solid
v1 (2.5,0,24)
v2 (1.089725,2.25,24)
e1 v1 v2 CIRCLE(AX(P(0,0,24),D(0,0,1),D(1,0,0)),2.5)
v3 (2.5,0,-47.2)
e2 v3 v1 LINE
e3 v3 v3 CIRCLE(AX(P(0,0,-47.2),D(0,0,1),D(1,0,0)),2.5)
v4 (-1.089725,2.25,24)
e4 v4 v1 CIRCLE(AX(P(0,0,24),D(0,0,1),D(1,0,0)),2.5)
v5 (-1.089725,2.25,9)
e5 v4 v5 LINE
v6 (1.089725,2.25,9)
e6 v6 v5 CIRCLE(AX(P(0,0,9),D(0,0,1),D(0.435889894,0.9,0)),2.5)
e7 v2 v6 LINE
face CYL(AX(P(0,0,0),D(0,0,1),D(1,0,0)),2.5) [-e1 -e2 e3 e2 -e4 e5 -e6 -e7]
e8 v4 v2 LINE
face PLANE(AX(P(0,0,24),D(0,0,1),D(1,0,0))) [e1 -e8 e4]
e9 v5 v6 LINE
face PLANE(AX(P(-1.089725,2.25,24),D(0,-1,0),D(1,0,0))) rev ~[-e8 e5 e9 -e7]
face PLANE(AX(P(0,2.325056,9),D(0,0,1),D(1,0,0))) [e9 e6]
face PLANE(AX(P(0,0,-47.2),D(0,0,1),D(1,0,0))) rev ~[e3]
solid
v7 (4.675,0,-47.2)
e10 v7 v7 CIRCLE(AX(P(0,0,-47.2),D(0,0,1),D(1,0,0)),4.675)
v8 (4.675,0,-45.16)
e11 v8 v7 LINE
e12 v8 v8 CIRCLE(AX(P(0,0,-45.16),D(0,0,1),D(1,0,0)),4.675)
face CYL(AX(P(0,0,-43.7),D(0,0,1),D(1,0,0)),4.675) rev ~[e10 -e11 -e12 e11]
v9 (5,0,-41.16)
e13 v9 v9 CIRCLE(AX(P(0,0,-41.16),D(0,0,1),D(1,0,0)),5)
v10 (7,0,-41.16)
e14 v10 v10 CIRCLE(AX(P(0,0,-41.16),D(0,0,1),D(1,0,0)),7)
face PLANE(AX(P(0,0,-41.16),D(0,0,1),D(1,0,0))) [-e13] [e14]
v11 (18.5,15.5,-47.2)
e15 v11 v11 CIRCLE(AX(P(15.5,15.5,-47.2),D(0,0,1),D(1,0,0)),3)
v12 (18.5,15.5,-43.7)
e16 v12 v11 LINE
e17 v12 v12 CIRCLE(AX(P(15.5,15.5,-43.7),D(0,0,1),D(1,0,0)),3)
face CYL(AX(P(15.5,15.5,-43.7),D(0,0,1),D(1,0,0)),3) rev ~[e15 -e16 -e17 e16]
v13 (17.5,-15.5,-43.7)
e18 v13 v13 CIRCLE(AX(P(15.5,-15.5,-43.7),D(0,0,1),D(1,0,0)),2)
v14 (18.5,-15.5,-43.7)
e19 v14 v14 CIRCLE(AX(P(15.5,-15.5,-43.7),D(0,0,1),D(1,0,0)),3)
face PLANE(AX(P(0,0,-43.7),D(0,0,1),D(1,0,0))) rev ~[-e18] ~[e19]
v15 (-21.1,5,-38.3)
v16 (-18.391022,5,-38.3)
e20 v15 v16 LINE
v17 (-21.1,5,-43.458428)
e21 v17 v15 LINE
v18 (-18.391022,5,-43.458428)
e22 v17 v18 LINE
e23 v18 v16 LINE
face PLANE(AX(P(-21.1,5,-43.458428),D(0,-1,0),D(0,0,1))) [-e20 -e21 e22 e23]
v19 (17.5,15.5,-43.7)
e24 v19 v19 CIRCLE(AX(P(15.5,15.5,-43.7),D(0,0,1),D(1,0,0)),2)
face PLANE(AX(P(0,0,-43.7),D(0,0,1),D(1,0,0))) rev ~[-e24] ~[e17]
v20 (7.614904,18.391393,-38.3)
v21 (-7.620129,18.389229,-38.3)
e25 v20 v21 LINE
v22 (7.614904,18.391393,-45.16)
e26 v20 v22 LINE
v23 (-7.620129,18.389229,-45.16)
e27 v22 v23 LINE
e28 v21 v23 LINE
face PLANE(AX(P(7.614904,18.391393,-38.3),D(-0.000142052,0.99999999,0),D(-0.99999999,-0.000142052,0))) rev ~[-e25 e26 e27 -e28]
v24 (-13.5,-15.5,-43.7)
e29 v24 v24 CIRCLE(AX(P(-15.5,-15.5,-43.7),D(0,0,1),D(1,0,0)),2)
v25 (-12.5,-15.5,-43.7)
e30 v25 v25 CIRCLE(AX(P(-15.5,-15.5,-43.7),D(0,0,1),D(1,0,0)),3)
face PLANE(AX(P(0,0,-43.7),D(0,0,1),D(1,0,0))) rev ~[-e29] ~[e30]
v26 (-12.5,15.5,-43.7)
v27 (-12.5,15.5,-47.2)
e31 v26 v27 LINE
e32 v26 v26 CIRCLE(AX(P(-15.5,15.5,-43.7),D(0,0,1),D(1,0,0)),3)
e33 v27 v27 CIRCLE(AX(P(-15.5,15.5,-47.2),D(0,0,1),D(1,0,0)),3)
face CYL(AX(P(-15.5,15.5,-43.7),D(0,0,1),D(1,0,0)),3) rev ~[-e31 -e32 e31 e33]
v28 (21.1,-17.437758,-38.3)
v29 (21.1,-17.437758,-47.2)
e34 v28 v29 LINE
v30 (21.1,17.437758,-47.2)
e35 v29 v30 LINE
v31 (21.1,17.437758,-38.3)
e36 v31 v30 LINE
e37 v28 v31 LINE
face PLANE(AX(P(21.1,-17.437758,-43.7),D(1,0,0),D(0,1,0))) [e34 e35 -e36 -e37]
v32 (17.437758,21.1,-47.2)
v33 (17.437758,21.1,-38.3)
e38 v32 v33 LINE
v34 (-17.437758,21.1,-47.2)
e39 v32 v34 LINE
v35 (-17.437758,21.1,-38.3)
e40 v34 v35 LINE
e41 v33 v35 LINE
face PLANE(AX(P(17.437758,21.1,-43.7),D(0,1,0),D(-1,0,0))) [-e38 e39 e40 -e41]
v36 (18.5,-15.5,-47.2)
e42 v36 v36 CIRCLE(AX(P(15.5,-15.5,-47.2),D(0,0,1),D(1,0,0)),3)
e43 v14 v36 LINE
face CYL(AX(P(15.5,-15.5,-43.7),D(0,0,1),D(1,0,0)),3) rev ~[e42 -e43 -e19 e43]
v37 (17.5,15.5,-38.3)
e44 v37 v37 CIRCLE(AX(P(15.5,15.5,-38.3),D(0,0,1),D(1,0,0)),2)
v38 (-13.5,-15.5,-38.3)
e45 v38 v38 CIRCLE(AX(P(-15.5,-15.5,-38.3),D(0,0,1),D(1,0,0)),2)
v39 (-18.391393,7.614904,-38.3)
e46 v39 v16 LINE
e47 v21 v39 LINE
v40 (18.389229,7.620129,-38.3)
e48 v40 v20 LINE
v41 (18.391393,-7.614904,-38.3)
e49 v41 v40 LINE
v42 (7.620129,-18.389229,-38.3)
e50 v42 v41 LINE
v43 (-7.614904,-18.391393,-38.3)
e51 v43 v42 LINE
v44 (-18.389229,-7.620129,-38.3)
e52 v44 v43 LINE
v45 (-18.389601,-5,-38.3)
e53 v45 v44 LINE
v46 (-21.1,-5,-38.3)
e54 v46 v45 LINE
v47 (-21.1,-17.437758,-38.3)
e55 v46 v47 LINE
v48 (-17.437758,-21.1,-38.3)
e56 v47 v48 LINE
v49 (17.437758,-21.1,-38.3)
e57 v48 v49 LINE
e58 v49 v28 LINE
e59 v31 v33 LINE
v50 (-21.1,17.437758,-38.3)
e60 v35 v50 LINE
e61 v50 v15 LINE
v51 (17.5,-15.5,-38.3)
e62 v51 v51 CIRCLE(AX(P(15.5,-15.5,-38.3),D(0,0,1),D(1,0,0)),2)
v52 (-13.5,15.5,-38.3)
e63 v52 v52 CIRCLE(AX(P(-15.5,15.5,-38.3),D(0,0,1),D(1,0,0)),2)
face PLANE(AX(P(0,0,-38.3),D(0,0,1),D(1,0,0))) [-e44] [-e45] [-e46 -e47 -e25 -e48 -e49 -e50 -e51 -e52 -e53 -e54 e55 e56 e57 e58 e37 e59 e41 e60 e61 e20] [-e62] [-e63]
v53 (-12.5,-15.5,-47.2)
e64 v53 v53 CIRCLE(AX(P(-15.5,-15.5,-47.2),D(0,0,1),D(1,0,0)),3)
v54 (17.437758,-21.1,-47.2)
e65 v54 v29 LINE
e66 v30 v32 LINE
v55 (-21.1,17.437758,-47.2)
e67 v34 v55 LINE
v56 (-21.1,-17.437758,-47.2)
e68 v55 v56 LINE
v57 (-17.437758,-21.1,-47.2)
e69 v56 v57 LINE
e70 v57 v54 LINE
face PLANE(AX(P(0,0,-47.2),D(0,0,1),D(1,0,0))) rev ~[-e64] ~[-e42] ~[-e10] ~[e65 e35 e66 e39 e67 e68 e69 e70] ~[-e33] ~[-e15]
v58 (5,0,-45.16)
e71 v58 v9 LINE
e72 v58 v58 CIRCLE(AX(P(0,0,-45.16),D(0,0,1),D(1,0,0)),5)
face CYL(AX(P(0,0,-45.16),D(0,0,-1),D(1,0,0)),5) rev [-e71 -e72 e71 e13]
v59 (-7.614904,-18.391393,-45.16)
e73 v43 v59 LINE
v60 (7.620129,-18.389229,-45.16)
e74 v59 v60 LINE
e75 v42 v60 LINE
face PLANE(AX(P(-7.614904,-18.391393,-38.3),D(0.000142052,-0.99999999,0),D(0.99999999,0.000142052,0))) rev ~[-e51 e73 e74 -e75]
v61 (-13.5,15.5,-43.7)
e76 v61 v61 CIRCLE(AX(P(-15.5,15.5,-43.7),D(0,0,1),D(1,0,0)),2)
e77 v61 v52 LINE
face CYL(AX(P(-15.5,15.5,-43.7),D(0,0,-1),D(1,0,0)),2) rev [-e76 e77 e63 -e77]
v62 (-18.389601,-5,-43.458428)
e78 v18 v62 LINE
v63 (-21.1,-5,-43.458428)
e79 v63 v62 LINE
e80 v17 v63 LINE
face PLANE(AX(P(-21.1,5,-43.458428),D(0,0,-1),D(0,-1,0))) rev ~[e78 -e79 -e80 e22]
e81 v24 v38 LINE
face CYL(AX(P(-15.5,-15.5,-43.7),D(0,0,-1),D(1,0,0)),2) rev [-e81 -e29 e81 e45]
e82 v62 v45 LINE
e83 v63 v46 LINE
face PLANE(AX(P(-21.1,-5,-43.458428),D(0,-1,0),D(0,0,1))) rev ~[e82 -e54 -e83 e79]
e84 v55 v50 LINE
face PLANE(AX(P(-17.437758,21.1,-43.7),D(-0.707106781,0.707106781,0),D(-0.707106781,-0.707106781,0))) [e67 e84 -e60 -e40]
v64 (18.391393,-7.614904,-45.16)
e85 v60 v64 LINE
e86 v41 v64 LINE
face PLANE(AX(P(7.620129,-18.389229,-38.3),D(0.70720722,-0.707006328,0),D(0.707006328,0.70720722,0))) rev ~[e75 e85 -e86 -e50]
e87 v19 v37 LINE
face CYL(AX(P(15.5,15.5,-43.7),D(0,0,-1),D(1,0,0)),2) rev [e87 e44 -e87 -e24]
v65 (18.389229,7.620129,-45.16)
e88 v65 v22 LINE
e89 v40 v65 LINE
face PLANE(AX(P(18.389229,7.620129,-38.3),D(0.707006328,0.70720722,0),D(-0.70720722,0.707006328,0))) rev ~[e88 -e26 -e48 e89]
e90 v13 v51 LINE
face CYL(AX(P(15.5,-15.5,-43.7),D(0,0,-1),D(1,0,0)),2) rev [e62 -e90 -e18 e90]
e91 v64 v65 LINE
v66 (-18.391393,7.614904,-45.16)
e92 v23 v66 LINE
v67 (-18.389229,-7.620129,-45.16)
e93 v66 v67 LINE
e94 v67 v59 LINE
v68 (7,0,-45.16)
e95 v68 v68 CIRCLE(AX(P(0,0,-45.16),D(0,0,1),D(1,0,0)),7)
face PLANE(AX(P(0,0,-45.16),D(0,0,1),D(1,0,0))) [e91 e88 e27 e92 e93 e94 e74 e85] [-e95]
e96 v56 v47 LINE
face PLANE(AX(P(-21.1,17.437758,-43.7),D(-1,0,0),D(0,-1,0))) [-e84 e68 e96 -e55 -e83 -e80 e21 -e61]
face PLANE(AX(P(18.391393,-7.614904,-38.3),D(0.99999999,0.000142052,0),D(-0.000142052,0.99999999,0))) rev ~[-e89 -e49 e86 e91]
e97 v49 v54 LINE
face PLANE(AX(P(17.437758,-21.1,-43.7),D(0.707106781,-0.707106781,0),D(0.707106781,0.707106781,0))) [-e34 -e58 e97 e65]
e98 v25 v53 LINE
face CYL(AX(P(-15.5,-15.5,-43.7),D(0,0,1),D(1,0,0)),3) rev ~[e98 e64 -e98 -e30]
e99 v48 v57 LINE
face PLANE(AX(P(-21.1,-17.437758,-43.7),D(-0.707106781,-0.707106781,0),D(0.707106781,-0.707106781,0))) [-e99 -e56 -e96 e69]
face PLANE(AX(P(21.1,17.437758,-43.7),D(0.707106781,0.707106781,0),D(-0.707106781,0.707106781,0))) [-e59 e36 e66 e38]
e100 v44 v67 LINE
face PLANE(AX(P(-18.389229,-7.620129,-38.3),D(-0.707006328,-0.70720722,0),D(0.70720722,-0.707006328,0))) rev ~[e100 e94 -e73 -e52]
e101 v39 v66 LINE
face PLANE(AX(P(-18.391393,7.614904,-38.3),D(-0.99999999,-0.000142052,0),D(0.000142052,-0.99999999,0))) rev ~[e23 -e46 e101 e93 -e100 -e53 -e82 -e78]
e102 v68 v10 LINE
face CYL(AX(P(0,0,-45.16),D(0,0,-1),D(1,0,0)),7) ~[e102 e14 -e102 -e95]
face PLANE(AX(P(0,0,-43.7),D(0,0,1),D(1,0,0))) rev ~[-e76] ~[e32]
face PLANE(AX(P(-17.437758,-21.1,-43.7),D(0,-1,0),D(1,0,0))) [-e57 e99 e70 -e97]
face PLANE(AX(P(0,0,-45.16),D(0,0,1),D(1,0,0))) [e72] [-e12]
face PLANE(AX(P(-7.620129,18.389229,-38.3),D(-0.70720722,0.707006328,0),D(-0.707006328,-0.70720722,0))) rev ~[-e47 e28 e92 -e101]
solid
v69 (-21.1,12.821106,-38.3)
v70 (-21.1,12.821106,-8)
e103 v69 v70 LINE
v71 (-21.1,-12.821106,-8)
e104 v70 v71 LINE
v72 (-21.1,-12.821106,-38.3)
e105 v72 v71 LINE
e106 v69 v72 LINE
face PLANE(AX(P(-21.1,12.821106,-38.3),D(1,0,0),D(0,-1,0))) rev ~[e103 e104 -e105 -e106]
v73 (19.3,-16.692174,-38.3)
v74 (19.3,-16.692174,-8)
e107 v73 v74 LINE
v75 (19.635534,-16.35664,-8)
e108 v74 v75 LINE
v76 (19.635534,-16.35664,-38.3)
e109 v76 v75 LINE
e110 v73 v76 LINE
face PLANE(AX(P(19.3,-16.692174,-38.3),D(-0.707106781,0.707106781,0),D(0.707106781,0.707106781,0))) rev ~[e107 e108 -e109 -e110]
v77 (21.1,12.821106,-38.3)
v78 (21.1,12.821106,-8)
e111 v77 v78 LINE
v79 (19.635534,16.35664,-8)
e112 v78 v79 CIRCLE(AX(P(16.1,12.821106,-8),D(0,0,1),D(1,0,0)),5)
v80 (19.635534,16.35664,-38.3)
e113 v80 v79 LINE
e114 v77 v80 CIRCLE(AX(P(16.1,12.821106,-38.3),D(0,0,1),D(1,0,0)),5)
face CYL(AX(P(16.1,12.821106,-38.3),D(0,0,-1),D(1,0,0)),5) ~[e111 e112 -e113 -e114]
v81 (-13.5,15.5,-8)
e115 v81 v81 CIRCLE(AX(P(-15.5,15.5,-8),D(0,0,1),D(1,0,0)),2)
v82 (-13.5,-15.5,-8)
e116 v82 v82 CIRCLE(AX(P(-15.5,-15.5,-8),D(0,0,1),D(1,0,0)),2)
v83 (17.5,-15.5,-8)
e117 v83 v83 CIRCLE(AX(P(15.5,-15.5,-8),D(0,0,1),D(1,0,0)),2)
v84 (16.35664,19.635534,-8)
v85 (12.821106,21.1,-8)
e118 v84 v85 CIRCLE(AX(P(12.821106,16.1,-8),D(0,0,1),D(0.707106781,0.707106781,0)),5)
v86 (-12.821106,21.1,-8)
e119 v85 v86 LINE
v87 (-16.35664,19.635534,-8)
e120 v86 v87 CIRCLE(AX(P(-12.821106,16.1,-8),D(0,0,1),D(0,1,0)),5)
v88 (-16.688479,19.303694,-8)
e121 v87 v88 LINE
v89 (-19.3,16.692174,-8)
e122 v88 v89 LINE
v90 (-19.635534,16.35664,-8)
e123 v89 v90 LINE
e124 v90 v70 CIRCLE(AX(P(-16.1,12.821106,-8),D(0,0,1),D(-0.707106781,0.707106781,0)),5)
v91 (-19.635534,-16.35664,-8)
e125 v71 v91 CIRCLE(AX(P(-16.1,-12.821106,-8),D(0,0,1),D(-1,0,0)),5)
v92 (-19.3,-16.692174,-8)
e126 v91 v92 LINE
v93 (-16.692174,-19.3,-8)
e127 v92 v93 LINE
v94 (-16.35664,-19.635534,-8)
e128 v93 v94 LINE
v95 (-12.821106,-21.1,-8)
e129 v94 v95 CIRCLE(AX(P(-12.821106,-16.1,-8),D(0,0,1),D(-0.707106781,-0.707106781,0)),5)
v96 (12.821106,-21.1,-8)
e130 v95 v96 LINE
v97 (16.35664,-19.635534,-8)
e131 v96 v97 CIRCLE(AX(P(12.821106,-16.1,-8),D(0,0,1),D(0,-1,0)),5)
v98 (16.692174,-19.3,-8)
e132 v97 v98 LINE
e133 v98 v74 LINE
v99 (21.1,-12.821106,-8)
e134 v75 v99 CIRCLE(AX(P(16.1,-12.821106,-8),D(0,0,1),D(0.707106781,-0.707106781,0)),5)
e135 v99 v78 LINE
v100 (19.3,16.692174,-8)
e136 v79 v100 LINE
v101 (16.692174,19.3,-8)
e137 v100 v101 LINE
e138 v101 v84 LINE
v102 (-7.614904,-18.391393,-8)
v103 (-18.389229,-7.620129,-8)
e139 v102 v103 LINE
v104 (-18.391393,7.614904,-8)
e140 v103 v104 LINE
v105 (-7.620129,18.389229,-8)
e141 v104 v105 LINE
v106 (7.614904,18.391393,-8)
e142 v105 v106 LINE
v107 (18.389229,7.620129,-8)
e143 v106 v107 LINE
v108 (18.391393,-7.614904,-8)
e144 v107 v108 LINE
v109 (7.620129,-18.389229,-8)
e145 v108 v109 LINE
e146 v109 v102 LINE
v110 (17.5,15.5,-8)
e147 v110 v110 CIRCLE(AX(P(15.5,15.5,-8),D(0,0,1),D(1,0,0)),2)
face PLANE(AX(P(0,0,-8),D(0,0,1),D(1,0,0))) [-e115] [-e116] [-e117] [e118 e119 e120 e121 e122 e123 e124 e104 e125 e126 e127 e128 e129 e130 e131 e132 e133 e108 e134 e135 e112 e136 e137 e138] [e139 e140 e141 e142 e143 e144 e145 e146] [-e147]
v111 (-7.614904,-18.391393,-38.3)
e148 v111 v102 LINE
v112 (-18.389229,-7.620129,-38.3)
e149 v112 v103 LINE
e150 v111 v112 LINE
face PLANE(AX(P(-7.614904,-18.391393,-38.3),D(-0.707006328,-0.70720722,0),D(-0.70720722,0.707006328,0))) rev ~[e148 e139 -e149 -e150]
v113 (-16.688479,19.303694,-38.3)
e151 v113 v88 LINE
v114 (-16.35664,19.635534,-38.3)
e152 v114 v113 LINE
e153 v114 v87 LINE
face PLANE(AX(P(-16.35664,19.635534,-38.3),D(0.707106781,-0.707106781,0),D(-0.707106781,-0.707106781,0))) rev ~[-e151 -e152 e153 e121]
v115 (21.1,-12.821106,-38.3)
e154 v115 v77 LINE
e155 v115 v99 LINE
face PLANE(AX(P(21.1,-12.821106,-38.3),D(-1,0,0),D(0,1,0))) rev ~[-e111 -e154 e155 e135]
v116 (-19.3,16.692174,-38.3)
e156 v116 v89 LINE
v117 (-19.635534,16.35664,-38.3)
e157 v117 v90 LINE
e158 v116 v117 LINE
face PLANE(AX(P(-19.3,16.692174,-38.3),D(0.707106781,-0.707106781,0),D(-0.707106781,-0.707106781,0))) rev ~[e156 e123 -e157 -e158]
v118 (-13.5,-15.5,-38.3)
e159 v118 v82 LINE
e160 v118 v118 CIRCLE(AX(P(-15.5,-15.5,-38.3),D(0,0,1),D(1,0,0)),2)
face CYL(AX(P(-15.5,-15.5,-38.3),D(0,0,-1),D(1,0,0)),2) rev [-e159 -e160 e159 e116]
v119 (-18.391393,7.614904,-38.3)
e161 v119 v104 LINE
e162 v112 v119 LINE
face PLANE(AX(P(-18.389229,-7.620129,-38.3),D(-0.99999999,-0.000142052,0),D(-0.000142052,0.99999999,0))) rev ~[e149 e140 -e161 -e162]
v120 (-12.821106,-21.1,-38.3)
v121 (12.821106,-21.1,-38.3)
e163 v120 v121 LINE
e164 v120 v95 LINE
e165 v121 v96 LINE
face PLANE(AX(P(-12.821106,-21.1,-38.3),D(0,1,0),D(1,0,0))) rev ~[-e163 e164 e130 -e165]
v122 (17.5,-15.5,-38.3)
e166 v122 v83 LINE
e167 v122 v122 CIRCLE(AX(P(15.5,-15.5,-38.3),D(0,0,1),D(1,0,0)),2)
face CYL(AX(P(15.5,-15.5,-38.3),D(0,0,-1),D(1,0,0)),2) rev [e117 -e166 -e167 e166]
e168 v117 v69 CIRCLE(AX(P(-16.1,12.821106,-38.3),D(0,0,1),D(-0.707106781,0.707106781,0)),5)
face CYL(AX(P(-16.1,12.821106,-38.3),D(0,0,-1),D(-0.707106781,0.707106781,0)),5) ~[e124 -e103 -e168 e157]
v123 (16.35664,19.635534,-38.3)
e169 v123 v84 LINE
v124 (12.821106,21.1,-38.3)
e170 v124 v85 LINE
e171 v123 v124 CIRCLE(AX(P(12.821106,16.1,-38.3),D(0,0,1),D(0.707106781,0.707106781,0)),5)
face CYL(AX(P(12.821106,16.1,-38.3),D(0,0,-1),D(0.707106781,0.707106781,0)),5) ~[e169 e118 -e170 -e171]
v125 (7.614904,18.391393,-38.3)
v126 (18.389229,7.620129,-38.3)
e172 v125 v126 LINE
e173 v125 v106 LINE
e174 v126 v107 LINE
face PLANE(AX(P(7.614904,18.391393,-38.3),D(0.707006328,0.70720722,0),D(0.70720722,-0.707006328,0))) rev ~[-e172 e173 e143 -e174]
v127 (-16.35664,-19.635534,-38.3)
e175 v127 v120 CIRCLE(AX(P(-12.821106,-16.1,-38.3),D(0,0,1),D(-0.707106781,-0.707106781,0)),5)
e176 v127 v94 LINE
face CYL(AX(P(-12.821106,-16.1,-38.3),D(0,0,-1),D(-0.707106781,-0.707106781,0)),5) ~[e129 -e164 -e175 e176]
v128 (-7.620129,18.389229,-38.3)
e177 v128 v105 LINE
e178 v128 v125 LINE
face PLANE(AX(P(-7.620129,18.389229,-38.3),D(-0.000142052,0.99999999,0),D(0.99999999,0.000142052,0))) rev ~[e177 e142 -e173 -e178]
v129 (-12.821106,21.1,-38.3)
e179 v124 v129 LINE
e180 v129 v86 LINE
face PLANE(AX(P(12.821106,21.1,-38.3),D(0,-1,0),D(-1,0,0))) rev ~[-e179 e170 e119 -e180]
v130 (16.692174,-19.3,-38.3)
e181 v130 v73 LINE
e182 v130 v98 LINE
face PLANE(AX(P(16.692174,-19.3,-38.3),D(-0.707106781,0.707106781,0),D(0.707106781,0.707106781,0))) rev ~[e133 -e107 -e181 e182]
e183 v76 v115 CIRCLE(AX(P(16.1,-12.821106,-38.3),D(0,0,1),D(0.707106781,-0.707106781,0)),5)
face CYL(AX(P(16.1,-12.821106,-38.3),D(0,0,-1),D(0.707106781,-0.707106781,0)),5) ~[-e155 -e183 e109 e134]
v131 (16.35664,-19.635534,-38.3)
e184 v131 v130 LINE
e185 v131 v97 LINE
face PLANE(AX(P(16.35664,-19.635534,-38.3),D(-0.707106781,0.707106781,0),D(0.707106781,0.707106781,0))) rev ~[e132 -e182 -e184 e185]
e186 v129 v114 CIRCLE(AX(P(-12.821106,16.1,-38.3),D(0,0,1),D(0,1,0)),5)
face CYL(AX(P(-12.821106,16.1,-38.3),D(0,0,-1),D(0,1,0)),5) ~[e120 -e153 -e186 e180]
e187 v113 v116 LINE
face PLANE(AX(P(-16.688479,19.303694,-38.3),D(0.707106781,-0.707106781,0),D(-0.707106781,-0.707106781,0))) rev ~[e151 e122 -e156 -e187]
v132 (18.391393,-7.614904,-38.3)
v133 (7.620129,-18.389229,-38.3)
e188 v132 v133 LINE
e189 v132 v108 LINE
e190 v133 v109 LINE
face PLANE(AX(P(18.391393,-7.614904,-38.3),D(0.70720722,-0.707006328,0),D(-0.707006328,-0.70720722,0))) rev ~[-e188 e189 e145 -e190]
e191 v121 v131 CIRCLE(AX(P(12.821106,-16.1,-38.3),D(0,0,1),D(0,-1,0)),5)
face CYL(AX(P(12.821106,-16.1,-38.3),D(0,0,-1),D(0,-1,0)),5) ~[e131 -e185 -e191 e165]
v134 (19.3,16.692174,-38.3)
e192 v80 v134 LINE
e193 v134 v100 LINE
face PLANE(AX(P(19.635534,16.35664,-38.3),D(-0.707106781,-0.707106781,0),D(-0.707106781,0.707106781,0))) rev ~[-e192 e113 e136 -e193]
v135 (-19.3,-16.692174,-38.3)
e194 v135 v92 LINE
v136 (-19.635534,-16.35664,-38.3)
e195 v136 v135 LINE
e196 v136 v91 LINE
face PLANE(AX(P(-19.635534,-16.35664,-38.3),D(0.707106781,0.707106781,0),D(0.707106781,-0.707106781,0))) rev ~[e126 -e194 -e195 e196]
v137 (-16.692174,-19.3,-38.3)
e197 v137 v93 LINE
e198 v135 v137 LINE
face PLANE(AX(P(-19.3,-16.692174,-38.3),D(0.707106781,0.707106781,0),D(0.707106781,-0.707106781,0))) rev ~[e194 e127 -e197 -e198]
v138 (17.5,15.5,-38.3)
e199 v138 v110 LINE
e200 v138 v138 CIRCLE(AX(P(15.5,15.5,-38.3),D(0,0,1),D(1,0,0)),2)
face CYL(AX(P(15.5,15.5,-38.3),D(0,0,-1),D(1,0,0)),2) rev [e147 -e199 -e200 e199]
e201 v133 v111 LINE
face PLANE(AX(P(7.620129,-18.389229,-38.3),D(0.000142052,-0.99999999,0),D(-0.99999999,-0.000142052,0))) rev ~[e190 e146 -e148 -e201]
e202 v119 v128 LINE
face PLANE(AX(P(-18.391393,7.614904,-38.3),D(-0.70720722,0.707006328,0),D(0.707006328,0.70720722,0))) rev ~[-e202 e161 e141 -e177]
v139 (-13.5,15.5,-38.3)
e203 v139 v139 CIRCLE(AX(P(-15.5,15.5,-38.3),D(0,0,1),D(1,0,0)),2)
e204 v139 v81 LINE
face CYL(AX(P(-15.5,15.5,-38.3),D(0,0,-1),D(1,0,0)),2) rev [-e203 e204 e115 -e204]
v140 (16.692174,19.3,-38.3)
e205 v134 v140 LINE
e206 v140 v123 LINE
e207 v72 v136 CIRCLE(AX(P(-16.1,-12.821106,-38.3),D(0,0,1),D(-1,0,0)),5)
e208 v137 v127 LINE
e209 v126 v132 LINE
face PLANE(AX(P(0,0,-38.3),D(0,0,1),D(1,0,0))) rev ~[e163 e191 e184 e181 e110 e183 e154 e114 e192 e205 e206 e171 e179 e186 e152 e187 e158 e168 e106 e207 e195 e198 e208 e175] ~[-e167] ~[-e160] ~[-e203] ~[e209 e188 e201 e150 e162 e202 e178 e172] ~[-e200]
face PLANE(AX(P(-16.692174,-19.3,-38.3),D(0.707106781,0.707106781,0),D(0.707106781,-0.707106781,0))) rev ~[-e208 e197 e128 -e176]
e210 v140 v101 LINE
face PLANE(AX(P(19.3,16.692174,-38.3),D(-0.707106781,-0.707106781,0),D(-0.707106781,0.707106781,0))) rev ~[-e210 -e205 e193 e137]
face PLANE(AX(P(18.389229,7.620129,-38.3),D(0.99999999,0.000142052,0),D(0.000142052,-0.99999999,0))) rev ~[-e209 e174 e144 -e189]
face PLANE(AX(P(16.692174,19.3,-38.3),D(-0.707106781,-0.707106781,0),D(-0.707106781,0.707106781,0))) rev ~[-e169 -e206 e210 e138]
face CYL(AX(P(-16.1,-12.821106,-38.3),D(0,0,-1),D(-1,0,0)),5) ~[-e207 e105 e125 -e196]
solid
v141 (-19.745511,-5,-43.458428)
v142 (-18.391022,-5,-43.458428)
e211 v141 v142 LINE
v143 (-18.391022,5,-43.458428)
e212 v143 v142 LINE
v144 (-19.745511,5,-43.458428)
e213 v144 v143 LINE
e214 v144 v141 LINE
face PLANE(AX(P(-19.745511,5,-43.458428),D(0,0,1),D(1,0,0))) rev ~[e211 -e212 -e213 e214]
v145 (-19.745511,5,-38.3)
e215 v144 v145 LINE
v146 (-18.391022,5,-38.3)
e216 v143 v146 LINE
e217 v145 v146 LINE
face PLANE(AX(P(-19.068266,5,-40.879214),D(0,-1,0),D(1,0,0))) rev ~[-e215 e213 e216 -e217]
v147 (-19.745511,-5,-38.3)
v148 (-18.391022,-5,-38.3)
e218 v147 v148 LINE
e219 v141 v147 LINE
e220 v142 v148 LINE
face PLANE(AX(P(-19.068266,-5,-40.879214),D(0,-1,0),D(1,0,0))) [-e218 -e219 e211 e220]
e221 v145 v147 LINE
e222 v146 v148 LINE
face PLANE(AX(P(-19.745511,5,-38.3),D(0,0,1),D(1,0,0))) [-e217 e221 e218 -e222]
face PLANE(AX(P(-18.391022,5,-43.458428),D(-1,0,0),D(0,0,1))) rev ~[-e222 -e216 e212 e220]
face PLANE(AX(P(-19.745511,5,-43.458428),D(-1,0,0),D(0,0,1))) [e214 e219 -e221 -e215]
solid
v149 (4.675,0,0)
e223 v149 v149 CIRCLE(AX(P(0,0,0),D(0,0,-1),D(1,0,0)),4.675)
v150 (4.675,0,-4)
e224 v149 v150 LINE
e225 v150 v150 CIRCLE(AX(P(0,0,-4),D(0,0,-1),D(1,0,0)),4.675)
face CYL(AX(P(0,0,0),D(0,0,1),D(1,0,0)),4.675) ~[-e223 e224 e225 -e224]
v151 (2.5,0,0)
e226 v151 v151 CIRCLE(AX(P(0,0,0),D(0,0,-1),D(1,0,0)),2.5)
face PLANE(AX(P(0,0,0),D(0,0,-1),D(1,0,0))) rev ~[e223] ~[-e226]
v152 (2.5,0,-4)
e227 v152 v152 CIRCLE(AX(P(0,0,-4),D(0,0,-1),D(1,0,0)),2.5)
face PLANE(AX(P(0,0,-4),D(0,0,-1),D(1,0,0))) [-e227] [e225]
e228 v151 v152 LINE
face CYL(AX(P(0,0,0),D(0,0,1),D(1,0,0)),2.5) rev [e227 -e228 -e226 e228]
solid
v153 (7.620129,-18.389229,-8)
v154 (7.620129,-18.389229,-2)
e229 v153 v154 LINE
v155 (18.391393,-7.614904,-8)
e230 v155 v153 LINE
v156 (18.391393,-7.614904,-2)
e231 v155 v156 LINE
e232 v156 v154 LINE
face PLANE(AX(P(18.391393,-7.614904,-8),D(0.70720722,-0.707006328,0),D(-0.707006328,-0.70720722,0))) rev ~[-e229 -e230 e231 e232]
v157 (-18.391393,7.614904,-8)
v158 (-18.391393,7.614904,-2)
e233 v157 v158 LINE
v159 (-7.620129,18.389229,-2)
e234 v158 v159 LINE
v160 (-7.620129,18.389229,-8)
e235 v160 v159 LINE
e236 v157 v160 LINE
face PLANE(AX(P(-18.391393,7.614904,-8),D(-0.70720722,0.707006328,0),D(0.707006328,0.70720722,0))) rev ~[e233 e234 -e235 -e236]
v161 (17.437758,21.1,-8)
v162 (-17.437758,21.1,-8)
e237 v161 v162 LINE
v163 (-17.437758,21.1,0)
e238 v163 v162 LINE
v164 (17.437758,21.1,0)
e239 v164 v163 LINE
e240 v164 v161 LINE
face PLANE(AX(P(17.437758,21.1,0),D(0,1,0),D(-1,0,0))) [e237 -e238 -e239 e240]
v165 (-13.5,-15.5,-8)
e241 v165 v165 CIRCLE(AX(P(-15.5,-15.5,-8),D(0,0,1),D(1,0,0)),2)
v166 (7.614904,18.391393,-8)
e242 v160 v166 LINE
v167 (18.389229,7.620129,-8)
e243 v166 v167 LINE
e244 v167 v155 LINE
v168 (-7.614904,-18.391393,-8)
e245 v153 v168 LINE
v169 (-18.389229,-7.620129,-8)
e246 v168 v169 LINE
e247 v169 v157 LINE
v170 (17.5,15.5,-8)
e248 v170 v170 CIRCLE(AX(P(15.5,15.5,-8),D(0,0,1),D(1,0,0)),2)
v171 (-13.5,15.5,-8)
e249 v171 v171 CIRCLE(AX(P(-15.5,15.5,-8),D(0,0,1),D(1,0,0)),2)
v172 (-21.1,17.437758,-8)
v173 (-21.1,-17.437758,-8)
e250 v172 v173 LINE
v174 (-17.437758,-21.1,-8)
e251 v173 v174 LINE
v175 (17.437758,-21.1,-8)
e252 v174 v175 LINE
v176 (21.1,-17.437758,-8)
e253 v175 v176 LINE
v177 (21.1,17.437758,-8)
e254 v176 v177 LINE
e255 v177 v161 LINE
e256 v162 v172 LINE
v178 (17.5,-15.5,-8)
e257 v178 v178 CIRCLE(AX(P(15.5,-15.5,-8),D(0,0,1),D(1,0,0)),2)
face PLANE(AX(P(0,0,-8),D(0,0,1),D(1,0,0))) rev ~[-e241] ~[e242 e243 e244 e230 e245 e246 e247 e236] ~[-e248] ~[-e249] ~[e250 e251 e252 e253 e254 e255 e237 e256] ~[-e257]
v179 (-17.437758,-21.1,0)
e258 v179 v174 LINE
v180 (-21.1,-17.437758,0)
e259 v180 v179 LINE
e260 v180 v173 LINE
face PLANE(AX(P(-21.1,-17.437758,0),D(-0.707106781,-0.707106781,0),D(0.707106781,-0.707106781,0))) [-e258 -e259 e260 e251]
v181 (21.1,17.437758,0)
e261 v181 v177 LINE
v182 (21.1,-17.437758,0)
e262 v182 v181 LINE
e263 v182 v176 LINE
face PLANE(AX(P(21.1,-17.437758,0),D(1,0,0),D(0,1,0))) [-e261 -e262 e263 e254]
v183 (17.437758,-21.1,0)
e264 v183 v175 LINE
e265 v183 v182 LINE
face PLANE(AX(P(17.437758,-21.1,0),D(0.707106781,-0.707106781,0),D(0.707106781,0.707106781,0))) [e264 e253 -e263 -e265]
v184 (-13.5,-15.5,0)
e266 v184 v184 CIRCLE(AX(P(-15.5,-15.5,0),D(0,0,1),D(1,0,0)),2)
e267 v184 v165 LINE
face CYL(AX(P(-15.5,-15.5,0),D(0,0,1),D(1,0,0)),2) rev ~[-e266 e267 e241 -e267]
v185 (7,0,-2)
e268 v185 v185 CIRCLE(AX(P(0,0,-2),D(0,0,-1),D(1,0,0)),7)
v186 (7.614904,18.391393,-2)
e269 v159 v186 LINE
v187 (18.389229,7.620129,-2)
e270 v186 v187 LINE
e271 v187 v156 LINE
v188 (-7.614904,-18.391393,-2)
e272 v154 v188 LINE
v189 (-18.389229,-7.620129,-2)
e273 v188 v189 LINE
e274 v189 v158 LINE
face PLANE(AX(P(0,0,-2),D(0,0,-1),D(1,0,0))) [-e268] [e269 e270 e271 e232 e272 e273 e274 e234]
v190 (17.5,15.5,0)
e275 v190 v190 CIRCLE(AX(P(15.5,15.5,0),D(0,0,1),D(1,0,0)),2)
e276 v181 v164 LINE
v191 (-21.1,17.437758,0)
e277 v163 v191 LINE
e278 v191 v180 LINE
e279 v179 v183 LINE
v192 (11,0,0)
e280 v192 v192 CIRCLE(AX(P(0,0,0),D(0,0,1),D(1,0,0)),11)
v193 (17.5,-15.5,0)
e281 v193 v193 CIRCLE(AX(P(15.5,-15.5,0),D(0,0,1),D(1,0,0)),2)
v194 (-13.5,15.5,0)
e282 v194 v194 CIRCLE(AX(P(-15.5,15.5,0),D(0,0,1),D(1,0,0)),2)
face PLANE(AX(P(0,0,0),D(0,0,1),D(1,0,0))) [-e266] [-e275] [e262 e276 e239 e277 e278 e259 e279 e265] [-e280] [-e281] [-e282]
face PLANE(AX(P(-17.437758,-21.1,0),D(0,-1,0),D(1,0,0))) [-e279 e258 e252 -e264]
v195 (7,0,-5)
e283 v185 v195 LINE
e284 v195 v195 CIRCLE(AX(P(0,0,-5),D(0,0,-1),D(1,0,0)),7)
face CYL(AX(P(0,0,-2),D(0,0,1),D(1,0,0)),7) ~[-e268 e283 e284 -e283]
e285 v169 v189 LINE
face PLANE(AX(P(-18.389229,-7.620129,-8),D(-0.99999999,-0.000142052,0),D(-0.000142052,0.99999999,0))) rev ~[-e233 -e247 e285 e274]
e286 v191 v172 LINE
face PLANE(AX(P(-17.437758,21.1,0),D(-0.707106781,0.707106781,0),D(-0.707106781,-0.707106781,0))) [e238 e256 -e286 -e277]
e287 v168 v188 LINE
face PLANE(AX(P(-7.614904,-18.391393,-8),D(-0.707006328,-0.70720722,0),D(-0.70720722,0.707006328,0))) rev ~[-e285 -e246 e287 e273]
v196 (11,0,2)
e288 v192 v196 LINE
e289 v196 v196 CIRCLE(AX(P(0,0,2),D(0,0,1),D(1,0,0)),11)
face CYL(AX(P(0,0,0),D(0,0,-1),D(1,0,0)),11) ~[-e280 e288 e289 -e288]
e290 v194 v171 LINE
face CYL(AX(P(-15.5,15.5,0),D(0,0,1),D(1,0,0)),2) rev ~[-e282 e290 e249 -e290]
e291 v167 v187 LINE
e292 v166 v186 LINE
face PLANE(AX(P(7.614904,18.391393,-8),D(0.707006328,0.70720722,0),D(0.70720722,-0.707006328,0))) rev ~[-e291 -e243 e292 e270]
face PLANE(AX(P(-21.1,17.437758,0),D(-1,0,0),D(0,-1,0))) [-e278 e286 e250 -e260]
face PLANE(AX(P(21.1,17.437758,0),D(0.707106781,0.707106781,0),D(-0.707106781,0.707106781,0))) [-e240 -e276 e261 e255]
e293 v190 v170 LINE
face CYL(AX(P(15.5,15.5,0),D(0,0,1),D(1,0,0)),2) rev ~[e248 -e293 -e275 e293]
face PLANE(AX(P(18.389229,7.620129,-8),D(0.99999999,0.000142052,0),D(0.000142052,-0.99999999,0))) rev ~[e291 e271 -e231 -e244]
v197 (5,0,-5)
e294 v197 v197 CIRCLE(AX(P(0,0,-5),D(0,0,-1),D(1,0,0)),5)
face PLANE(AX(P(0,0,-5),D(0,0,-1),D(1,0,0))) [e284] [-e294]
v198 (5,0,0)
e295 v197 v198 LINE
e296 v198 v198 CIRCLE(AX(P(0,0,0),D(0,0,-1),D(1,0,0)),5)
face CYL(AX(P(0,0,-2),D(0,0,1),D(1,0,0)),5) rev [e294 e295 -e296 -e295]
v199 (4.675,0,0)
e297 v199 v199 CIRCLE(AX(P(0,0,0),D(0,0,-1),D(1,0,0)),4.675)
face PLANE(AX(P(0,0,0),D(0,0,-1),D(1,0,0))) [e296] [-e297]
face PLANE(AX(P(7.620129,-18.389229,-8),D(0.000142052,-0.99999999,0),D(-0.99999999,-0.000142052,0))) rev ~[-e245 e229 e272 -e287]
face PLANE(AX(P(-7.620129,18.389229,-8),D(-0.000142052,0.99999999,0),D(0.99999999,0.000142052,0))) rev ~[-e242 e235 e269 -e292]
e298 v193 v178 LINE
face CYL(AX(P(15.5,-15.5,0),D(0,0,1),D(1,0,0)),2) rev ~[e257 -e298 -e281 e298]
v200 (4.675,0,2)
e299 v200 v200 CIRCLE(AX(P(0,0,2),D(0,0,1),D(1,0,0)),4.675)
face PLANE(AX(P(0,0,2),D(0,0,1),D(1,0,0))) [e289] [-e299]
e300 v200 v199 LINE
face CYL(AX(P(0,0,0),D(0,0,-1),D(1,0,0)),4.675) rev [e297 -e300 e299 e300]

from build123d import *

# Parameters (mm, degrees)
F0_R      = 2
F0_R_2    = 11
F0_R_3    = 4.675
F1_DEPTH  = 8
F2_DEPTH  = 2
F4_R      = 3
F4_R_2    = 4.675
F4_R_3    = 2
F5_DEPTH  = 5.4
F6_DEPTH  = 3.5
F7_R      = 2
F8_DEPTH  = 30.3
F0_R_4    = 2.5
F9_DEPTH  = 24
F10_DEPTH = 47.2
F12_DEPTH = 15
F7_R_2    = 4.675
F13_DEPTH = 6.86
F14_R     = 4.675
F15_DEPTH = 6
F16_R     = 5
F16_R_2   = 4.675
F17_DEPTH = 2
F16_R_3   = 7
F18_DEPTH = 3
F19_R     = 7
F19_R_2   = 5
F20_DEPTH = 4
F21_R     = 4.675
F21_R_2   = 2.5
F22_DEPTH = 4
F23_W     = 10
F23_H     = 5.1584282339
F24_DEPTH = 2.7113987058
F25_W     = 1.3544890925
F25_H     = 5.1584282339
F26_DEPTH = 10


with BuildPart() as f1:
    # F0 (on Top) → F1 (new body)
    with BuildSketch(Plane.XY):
        Polygon((21.1, 17.4377582874), (17.4377582874, 21.1), (-17.4377582874, 21.1), (-21.1, 17.4377582874), (-21.1, -17.4377582874), (-17.4377582874, -21.1), (17.4377582874, -21.1), (21.1, -17.4377582874), align=None)
        with Locations((-15.5, -15.5)):
            Circle(F0_R, mode=Mode.SUBTRACT)
        with Locations((15.5, -15.5)):
            Circle(F0_R, mode=Mode.SUBTRACT)
        with Locations((-15.5, 15.5)):
            Circle(F0_R, mode=Mode.SUBTRACT)
        Circle(F0_R_2, mode=Mode.SUBTRACT)
        with Locations((15.5, 15.5)):
            Circle(F0_R, mode=Mode.SUBTRACT)
        Circle(F0_R_2)
        Circle(F0_R_3, mode=Mode.SUBTRACT)
    extrude(amount=-F1_DEPTH)

    # F0 (on Top) → F2 (join)
    with BuildSketch(Plane.XY):
        Circle(F0_R_2)
        Circle(F0_R_3, mode=Mode.SUBTRACT)
    extrude(amount=F2_DEPTH)

    # F14 (on face) → F15 (cut)
    with BuildSketch(Plane(origin=(0, 0, -8), x_dir=(1, 0, 0), z_dir=(0, 0, -1))):
        Polygon((-18.3913932674, -7.6149039267), (-7.6201286902, -18.3892290995), (7.6149039267, -18.3913932674), (18.3892290995, -7.6201286902), (18.3913932674, 7.6149039267), (7.6201286902, 18.3892290995), (-7.6149039267, 18.3913932674), (-18.3892290995, 7.6201286902), align=None)
        Circle(F14_R, mode=Mode.SUBTRACT)
    extrude(amount=-F15_DEPTH, mode=Mode.SUBTRACT)

    # F16 (on face) → F17 (cut)
    with BuildSketch(Plane(origin=(0, 0, -2), x_dir=(1, 0, 0), z_dir=(0, 0, -1))):
        Circle(F16_R)
        Circle(F16_R_2, mode=Mode.SUBTRACT)
    extrude(amount=-F17_DEPTH, mode=Mode.SUBTRACT)

    # F16 (on face) → F18 (join)
    with BuildSketch(Plane(origin=(0, 0, -2), x_dir=(1, 0, 0), z_dir=(0, 0, -1))):
        Circle(F16_R_3)
        Circle(F16_R, mode=Mode.SUBTRACT)
    extrude(amount=F18_DEPTH)


with BuildPart() as f5:
    # F4 (on offset) → F5 (new body)
    with BuildSketch(Plane.XY.offset(-43.7)):
        Polygon((21.1, 17.4377582874), (17.4377582874, 21.1), (-17.4377582874, 21.1), (-21.1, 17.4377582874), (-21.1, -17.4377582874), (-17.4377582874, -21.1), (17.4377582874, -21.1), (21.1, -17.4377582874), align=None)
        with Locations((-15.5, -15.5)):
            Circle(F4_R, mode=Mode.SUBTRACT)
        with Locations((15.5, -15.5)):
            Circle(F4_R, mode=Mode.SUBTRACT)
        with Locations((-15.5, 15.5)):
            Circle(F4_R, mode=Mode.SUBTRACT)
        Circle(F4_R_2, mode=Mode.SUBTRACT)
        with Locations((15.5, 15.5)):
            Circle(F4_R, mode=Mode.SUBTRACT)
        with Locations((15.5, 15.5)):
            Circle(F4_R)
        with Locations((15.5, 15.5)):
            Circle(F4_R_3, mode=Mode.SUBTRACT)
        with Locations((-15.5, 15.5)):
            Circle(F4_R)
        with Locations((-15.5, 15.5)):
            Circle(F4_R_3, mode=Mode.SUBTRACT)
        with Locations((-15.5, -15.5)):
            Circle(F4_R)
        with Locations((-15.5, -15.5)):
            Circle(F4_R_3, mode=Mode.SUBTRACT)
        with Locations((15.5, -15.5)):
            Circle(F4_R)
        with Locations((15.5, -15.5)):
            Circle(F4_R_3, mode=Mode.SUBTRACT)
    extrude(amount=F5_DEPTH)

    # F4 (on offset) → F6 (join)
    with BuildSketch(Plane.XY.offset(-43.7)):
        Polygon((21.1, 17.4377582874), (17.4377582874, 21.1), (-17.4377582874, 21.1), (-21.1, 17.4377582874), (-21.1, -17.4377582874), (-17.4377582874, -21.1), (17.4377582874, -21.1), (21.1, -17.4377582874), align=None)
        with Locations((-15.5, -15.5)):
            Circle(F4_R, mode=Mode.SUBTRACT)
        with Locations((15.5, -15.5)):
            Circle(F4_R, mode=Mode.SUBTRACT)
        with Locations((-15.5, 15.5)):
            Circle(F4_R, mode=Mode.SUBTRACT)
        Circle(F4_R_2, mode=Mode.SUBTRACT)
        with Locations((15.5, 15.5)):
            Circle(F4_R, mode=Mode.SUBTRACT)
    extrude(amount=-F6_DEPTH)

    # F7 (on face) → F13 (cut)
    with BuildSketch(Plane.XY.offset(-38.3)):
        Polygon((-7.6201286902, 18.3892290995), (-18.3913932674, 7.6149039267), (-18.3892290995, -7.6201286902), (-7.6149039267, -18.3913932674), (7.6201286902, -18.3892290995), (18.3913932674, -7.6149039267), (18.3892290995, 7.6201286902), (7.6149039267, 18.3913932674), align=None)
        Circle(F7_R_2, mode=Mode.SUBTRACT)
    extrude(amount=-F13_DEPTH, mode=Mode.SUBTRACT)

    # F19 (on face) → F20 (join)
    with BuildSketch(Plane.XY.offset(-45.16)):
        Circle(F19_R)
        Circle(F19_R_2, mode=Mode.SUBTRACT)
    extrude(amount=F20_DEPTH)

    # F23 (on face) → F24 (cut, through all)
    with BuildSketch(Plane(origin=(-21.1, 0, 0), x_dir=(0, -1, 0), z_dir=(-1, 0, 0))):
        with Locations((0, -40.8792141169)):
            Rectangle(F23_W, F23_H)
    extrude(amount=-F24_DEPTH, mode=Mode.SUBTRACT)


with BuildPart() as f8:
    # F7 (on face) → F8 (new body, through all)
    with BuildSketch(Plane.XY.offset(-38.3)):
        with BuildLine():
            Line((16.3566399692, -19.6355339059), (16.6921738752, -19.3))
            Line((16.6921738752, -19.3), (19.3, -16.6921738752))
            Line((19.3, -16.6921738752), (19.6355339059, -16.3566399692))
            ThreePointArc((19.6355339059, -16.3566399692), (20.7193976626, -14.7345232251), (21.1, -12.8211060633))
            Line((21.1, -12.8211060633), (21.1, 12.8211060633))
            ThreePointArc((21.1, 12.8211060633), (20.7193976626, 14.7345232251), (19.6355339059, 16.3566399692))
            Line((19.6355339059, 16.3566399692), (19.3, 16.6921738752))
            Line((19.3, 16.6921738752), (16.6921738752, 19.3))
            Line((16.6921738752, 19.3), (16.3566399692, 19.6355339059))
            ThreePointArc((16.3566399692, 19.6355339059), (14.7345232251, 20.7193976626), (12.8211060633, 21.1))
            Line((12.8211060633, 21.1), (-12.8211060633, 21.1))
            ThreePointArc((-12.8211060633, 21.1), (-14.7345232251, 20.7193976626), (-16.3566399692, 19.6355339059))
            Line((-16.3566399692, 19.6355339059), (-16.6884794085, 19.3036944667))
            Line((-16.6884794085, 19.3036944667), (-19.3, 16.6921738752))
            Line((-19.3, 16.6921738752), (-19.6355339059, 16.3566399692))
            ThreePointArc((-19.6355339059, 16.3566399692), (-20.7193976626, 14.7345232251), (-21.1, 12.8211060633))
            Line((-21.1, 12.8211060633), (-21.1, -12.8211060633))
            ThreePointArc((-21.1, -12.8211060633), (-20.7193976626, -14.7345232251), (-19.6355339059, -16.3566399692))
            Line((-19.6355339059, -16.3566399692), (-19.3, -16.6921738752))
            Line((-19.3, -16.6921738752), (-16.6921738752, -19.3))
            Line((-16.6921738752, -19.3), (-16.3566399692, -19.6355339059))
            ThreePointArc((-16.3566399692, -19.6355339059), (-14.7345232251, -20.7193976626), (-12.8211060633, -21.1))
            Line((-12.8211060633, -21.1), (12.8211060633, -21.1))
            ThreePointArc((12.8211060633, -21.1), (14.7345232251, -20.7193976626), (16.3566399692, -19.6355339059))
        make_face()
        with Locations((-15.5, -15.5)):
            Circle(F7_R, mode=Mode.SUBTRACT)
        with Locations((15.5, -15.5)):
            Circle(F7_R, mode=Mode.SUBTRACT)
        with Locations((-15.5, 15.5)):
            Circle(F7_R, mode=Mode.SUBTRACT)
        Polygon((-18.3892290995, -7.6201286902), (-18.3913932674, 7.6149039267), (-7.6201286902, 18.3892290995), (7.6149039267, 18.3913932674), (18.3892290995, 7.6201286902), (18.3913932674, -7.6149039267), (7.6201286902, -18.3892290995), (-7.6149039267, -18.3913932674), align=None, mode=Mode.SUBTRACT)
        with Locations((15.5, 15.5)):
            Circle(F7_R, mode=Mode.SUBTRACT)
    extrude(amount=F8_DEPTH)


with BuildPart() as f9:
    # F0 (on Top) → F9 (new body)
    with BuildSketch(Plane.XY):
        Circle(F0_R_4)
    extrude(amount=F9_DEPTH)

    # F0 (on Top) → F10 (join, through all)
    with BuildSketch(Plane.XY):
        Circle(F0_R_4)
    extrude(amount=-F10_DEPTH)

    # F11 (on face) → F12 (cut)
    with BuildSketch(Plane.XY.offset(24)):
        with BuildLine():
            Line((-1.0897247359, 2.25), (0, 2.25))
            Line((0, 2.25), (1.0897247359, 2.25))
            ThreePointArc((1.0897247359, 2.25), (0, 2.5), (-1.0897247359, 2.25))
        make_face()
    extrude(amount=-F12_DEPTH, mode=Mode.SUBTRACT)


with BuildPart() as f22:
    # F21 (on face) → F22 (new body)
    with BuildSketch(Plane(origin=(0, 0, 0), x_dir=(1, 0, 0), z_dir=(0, 0, -1))):
        Circle(F21_R)
        Circle(F21_R_2, mode=Mode.SUBTRACT)
    extrude(amount=F22_DEPTH)


with BuildPart() as f26:
    # F25 (on face) → F26 (new body, through all)
    with BuildSketch(Plane.XZ.offset(-5)):
        with Locations((-19.0682663611, -40.8792141169)):
            Rectangle(F25_W, F25_H)
    extrude(amount=F26_DEPTH)


solid = Compound([f1.part, f5.part, f8.part, f9.part, f22.part, f26.part])
